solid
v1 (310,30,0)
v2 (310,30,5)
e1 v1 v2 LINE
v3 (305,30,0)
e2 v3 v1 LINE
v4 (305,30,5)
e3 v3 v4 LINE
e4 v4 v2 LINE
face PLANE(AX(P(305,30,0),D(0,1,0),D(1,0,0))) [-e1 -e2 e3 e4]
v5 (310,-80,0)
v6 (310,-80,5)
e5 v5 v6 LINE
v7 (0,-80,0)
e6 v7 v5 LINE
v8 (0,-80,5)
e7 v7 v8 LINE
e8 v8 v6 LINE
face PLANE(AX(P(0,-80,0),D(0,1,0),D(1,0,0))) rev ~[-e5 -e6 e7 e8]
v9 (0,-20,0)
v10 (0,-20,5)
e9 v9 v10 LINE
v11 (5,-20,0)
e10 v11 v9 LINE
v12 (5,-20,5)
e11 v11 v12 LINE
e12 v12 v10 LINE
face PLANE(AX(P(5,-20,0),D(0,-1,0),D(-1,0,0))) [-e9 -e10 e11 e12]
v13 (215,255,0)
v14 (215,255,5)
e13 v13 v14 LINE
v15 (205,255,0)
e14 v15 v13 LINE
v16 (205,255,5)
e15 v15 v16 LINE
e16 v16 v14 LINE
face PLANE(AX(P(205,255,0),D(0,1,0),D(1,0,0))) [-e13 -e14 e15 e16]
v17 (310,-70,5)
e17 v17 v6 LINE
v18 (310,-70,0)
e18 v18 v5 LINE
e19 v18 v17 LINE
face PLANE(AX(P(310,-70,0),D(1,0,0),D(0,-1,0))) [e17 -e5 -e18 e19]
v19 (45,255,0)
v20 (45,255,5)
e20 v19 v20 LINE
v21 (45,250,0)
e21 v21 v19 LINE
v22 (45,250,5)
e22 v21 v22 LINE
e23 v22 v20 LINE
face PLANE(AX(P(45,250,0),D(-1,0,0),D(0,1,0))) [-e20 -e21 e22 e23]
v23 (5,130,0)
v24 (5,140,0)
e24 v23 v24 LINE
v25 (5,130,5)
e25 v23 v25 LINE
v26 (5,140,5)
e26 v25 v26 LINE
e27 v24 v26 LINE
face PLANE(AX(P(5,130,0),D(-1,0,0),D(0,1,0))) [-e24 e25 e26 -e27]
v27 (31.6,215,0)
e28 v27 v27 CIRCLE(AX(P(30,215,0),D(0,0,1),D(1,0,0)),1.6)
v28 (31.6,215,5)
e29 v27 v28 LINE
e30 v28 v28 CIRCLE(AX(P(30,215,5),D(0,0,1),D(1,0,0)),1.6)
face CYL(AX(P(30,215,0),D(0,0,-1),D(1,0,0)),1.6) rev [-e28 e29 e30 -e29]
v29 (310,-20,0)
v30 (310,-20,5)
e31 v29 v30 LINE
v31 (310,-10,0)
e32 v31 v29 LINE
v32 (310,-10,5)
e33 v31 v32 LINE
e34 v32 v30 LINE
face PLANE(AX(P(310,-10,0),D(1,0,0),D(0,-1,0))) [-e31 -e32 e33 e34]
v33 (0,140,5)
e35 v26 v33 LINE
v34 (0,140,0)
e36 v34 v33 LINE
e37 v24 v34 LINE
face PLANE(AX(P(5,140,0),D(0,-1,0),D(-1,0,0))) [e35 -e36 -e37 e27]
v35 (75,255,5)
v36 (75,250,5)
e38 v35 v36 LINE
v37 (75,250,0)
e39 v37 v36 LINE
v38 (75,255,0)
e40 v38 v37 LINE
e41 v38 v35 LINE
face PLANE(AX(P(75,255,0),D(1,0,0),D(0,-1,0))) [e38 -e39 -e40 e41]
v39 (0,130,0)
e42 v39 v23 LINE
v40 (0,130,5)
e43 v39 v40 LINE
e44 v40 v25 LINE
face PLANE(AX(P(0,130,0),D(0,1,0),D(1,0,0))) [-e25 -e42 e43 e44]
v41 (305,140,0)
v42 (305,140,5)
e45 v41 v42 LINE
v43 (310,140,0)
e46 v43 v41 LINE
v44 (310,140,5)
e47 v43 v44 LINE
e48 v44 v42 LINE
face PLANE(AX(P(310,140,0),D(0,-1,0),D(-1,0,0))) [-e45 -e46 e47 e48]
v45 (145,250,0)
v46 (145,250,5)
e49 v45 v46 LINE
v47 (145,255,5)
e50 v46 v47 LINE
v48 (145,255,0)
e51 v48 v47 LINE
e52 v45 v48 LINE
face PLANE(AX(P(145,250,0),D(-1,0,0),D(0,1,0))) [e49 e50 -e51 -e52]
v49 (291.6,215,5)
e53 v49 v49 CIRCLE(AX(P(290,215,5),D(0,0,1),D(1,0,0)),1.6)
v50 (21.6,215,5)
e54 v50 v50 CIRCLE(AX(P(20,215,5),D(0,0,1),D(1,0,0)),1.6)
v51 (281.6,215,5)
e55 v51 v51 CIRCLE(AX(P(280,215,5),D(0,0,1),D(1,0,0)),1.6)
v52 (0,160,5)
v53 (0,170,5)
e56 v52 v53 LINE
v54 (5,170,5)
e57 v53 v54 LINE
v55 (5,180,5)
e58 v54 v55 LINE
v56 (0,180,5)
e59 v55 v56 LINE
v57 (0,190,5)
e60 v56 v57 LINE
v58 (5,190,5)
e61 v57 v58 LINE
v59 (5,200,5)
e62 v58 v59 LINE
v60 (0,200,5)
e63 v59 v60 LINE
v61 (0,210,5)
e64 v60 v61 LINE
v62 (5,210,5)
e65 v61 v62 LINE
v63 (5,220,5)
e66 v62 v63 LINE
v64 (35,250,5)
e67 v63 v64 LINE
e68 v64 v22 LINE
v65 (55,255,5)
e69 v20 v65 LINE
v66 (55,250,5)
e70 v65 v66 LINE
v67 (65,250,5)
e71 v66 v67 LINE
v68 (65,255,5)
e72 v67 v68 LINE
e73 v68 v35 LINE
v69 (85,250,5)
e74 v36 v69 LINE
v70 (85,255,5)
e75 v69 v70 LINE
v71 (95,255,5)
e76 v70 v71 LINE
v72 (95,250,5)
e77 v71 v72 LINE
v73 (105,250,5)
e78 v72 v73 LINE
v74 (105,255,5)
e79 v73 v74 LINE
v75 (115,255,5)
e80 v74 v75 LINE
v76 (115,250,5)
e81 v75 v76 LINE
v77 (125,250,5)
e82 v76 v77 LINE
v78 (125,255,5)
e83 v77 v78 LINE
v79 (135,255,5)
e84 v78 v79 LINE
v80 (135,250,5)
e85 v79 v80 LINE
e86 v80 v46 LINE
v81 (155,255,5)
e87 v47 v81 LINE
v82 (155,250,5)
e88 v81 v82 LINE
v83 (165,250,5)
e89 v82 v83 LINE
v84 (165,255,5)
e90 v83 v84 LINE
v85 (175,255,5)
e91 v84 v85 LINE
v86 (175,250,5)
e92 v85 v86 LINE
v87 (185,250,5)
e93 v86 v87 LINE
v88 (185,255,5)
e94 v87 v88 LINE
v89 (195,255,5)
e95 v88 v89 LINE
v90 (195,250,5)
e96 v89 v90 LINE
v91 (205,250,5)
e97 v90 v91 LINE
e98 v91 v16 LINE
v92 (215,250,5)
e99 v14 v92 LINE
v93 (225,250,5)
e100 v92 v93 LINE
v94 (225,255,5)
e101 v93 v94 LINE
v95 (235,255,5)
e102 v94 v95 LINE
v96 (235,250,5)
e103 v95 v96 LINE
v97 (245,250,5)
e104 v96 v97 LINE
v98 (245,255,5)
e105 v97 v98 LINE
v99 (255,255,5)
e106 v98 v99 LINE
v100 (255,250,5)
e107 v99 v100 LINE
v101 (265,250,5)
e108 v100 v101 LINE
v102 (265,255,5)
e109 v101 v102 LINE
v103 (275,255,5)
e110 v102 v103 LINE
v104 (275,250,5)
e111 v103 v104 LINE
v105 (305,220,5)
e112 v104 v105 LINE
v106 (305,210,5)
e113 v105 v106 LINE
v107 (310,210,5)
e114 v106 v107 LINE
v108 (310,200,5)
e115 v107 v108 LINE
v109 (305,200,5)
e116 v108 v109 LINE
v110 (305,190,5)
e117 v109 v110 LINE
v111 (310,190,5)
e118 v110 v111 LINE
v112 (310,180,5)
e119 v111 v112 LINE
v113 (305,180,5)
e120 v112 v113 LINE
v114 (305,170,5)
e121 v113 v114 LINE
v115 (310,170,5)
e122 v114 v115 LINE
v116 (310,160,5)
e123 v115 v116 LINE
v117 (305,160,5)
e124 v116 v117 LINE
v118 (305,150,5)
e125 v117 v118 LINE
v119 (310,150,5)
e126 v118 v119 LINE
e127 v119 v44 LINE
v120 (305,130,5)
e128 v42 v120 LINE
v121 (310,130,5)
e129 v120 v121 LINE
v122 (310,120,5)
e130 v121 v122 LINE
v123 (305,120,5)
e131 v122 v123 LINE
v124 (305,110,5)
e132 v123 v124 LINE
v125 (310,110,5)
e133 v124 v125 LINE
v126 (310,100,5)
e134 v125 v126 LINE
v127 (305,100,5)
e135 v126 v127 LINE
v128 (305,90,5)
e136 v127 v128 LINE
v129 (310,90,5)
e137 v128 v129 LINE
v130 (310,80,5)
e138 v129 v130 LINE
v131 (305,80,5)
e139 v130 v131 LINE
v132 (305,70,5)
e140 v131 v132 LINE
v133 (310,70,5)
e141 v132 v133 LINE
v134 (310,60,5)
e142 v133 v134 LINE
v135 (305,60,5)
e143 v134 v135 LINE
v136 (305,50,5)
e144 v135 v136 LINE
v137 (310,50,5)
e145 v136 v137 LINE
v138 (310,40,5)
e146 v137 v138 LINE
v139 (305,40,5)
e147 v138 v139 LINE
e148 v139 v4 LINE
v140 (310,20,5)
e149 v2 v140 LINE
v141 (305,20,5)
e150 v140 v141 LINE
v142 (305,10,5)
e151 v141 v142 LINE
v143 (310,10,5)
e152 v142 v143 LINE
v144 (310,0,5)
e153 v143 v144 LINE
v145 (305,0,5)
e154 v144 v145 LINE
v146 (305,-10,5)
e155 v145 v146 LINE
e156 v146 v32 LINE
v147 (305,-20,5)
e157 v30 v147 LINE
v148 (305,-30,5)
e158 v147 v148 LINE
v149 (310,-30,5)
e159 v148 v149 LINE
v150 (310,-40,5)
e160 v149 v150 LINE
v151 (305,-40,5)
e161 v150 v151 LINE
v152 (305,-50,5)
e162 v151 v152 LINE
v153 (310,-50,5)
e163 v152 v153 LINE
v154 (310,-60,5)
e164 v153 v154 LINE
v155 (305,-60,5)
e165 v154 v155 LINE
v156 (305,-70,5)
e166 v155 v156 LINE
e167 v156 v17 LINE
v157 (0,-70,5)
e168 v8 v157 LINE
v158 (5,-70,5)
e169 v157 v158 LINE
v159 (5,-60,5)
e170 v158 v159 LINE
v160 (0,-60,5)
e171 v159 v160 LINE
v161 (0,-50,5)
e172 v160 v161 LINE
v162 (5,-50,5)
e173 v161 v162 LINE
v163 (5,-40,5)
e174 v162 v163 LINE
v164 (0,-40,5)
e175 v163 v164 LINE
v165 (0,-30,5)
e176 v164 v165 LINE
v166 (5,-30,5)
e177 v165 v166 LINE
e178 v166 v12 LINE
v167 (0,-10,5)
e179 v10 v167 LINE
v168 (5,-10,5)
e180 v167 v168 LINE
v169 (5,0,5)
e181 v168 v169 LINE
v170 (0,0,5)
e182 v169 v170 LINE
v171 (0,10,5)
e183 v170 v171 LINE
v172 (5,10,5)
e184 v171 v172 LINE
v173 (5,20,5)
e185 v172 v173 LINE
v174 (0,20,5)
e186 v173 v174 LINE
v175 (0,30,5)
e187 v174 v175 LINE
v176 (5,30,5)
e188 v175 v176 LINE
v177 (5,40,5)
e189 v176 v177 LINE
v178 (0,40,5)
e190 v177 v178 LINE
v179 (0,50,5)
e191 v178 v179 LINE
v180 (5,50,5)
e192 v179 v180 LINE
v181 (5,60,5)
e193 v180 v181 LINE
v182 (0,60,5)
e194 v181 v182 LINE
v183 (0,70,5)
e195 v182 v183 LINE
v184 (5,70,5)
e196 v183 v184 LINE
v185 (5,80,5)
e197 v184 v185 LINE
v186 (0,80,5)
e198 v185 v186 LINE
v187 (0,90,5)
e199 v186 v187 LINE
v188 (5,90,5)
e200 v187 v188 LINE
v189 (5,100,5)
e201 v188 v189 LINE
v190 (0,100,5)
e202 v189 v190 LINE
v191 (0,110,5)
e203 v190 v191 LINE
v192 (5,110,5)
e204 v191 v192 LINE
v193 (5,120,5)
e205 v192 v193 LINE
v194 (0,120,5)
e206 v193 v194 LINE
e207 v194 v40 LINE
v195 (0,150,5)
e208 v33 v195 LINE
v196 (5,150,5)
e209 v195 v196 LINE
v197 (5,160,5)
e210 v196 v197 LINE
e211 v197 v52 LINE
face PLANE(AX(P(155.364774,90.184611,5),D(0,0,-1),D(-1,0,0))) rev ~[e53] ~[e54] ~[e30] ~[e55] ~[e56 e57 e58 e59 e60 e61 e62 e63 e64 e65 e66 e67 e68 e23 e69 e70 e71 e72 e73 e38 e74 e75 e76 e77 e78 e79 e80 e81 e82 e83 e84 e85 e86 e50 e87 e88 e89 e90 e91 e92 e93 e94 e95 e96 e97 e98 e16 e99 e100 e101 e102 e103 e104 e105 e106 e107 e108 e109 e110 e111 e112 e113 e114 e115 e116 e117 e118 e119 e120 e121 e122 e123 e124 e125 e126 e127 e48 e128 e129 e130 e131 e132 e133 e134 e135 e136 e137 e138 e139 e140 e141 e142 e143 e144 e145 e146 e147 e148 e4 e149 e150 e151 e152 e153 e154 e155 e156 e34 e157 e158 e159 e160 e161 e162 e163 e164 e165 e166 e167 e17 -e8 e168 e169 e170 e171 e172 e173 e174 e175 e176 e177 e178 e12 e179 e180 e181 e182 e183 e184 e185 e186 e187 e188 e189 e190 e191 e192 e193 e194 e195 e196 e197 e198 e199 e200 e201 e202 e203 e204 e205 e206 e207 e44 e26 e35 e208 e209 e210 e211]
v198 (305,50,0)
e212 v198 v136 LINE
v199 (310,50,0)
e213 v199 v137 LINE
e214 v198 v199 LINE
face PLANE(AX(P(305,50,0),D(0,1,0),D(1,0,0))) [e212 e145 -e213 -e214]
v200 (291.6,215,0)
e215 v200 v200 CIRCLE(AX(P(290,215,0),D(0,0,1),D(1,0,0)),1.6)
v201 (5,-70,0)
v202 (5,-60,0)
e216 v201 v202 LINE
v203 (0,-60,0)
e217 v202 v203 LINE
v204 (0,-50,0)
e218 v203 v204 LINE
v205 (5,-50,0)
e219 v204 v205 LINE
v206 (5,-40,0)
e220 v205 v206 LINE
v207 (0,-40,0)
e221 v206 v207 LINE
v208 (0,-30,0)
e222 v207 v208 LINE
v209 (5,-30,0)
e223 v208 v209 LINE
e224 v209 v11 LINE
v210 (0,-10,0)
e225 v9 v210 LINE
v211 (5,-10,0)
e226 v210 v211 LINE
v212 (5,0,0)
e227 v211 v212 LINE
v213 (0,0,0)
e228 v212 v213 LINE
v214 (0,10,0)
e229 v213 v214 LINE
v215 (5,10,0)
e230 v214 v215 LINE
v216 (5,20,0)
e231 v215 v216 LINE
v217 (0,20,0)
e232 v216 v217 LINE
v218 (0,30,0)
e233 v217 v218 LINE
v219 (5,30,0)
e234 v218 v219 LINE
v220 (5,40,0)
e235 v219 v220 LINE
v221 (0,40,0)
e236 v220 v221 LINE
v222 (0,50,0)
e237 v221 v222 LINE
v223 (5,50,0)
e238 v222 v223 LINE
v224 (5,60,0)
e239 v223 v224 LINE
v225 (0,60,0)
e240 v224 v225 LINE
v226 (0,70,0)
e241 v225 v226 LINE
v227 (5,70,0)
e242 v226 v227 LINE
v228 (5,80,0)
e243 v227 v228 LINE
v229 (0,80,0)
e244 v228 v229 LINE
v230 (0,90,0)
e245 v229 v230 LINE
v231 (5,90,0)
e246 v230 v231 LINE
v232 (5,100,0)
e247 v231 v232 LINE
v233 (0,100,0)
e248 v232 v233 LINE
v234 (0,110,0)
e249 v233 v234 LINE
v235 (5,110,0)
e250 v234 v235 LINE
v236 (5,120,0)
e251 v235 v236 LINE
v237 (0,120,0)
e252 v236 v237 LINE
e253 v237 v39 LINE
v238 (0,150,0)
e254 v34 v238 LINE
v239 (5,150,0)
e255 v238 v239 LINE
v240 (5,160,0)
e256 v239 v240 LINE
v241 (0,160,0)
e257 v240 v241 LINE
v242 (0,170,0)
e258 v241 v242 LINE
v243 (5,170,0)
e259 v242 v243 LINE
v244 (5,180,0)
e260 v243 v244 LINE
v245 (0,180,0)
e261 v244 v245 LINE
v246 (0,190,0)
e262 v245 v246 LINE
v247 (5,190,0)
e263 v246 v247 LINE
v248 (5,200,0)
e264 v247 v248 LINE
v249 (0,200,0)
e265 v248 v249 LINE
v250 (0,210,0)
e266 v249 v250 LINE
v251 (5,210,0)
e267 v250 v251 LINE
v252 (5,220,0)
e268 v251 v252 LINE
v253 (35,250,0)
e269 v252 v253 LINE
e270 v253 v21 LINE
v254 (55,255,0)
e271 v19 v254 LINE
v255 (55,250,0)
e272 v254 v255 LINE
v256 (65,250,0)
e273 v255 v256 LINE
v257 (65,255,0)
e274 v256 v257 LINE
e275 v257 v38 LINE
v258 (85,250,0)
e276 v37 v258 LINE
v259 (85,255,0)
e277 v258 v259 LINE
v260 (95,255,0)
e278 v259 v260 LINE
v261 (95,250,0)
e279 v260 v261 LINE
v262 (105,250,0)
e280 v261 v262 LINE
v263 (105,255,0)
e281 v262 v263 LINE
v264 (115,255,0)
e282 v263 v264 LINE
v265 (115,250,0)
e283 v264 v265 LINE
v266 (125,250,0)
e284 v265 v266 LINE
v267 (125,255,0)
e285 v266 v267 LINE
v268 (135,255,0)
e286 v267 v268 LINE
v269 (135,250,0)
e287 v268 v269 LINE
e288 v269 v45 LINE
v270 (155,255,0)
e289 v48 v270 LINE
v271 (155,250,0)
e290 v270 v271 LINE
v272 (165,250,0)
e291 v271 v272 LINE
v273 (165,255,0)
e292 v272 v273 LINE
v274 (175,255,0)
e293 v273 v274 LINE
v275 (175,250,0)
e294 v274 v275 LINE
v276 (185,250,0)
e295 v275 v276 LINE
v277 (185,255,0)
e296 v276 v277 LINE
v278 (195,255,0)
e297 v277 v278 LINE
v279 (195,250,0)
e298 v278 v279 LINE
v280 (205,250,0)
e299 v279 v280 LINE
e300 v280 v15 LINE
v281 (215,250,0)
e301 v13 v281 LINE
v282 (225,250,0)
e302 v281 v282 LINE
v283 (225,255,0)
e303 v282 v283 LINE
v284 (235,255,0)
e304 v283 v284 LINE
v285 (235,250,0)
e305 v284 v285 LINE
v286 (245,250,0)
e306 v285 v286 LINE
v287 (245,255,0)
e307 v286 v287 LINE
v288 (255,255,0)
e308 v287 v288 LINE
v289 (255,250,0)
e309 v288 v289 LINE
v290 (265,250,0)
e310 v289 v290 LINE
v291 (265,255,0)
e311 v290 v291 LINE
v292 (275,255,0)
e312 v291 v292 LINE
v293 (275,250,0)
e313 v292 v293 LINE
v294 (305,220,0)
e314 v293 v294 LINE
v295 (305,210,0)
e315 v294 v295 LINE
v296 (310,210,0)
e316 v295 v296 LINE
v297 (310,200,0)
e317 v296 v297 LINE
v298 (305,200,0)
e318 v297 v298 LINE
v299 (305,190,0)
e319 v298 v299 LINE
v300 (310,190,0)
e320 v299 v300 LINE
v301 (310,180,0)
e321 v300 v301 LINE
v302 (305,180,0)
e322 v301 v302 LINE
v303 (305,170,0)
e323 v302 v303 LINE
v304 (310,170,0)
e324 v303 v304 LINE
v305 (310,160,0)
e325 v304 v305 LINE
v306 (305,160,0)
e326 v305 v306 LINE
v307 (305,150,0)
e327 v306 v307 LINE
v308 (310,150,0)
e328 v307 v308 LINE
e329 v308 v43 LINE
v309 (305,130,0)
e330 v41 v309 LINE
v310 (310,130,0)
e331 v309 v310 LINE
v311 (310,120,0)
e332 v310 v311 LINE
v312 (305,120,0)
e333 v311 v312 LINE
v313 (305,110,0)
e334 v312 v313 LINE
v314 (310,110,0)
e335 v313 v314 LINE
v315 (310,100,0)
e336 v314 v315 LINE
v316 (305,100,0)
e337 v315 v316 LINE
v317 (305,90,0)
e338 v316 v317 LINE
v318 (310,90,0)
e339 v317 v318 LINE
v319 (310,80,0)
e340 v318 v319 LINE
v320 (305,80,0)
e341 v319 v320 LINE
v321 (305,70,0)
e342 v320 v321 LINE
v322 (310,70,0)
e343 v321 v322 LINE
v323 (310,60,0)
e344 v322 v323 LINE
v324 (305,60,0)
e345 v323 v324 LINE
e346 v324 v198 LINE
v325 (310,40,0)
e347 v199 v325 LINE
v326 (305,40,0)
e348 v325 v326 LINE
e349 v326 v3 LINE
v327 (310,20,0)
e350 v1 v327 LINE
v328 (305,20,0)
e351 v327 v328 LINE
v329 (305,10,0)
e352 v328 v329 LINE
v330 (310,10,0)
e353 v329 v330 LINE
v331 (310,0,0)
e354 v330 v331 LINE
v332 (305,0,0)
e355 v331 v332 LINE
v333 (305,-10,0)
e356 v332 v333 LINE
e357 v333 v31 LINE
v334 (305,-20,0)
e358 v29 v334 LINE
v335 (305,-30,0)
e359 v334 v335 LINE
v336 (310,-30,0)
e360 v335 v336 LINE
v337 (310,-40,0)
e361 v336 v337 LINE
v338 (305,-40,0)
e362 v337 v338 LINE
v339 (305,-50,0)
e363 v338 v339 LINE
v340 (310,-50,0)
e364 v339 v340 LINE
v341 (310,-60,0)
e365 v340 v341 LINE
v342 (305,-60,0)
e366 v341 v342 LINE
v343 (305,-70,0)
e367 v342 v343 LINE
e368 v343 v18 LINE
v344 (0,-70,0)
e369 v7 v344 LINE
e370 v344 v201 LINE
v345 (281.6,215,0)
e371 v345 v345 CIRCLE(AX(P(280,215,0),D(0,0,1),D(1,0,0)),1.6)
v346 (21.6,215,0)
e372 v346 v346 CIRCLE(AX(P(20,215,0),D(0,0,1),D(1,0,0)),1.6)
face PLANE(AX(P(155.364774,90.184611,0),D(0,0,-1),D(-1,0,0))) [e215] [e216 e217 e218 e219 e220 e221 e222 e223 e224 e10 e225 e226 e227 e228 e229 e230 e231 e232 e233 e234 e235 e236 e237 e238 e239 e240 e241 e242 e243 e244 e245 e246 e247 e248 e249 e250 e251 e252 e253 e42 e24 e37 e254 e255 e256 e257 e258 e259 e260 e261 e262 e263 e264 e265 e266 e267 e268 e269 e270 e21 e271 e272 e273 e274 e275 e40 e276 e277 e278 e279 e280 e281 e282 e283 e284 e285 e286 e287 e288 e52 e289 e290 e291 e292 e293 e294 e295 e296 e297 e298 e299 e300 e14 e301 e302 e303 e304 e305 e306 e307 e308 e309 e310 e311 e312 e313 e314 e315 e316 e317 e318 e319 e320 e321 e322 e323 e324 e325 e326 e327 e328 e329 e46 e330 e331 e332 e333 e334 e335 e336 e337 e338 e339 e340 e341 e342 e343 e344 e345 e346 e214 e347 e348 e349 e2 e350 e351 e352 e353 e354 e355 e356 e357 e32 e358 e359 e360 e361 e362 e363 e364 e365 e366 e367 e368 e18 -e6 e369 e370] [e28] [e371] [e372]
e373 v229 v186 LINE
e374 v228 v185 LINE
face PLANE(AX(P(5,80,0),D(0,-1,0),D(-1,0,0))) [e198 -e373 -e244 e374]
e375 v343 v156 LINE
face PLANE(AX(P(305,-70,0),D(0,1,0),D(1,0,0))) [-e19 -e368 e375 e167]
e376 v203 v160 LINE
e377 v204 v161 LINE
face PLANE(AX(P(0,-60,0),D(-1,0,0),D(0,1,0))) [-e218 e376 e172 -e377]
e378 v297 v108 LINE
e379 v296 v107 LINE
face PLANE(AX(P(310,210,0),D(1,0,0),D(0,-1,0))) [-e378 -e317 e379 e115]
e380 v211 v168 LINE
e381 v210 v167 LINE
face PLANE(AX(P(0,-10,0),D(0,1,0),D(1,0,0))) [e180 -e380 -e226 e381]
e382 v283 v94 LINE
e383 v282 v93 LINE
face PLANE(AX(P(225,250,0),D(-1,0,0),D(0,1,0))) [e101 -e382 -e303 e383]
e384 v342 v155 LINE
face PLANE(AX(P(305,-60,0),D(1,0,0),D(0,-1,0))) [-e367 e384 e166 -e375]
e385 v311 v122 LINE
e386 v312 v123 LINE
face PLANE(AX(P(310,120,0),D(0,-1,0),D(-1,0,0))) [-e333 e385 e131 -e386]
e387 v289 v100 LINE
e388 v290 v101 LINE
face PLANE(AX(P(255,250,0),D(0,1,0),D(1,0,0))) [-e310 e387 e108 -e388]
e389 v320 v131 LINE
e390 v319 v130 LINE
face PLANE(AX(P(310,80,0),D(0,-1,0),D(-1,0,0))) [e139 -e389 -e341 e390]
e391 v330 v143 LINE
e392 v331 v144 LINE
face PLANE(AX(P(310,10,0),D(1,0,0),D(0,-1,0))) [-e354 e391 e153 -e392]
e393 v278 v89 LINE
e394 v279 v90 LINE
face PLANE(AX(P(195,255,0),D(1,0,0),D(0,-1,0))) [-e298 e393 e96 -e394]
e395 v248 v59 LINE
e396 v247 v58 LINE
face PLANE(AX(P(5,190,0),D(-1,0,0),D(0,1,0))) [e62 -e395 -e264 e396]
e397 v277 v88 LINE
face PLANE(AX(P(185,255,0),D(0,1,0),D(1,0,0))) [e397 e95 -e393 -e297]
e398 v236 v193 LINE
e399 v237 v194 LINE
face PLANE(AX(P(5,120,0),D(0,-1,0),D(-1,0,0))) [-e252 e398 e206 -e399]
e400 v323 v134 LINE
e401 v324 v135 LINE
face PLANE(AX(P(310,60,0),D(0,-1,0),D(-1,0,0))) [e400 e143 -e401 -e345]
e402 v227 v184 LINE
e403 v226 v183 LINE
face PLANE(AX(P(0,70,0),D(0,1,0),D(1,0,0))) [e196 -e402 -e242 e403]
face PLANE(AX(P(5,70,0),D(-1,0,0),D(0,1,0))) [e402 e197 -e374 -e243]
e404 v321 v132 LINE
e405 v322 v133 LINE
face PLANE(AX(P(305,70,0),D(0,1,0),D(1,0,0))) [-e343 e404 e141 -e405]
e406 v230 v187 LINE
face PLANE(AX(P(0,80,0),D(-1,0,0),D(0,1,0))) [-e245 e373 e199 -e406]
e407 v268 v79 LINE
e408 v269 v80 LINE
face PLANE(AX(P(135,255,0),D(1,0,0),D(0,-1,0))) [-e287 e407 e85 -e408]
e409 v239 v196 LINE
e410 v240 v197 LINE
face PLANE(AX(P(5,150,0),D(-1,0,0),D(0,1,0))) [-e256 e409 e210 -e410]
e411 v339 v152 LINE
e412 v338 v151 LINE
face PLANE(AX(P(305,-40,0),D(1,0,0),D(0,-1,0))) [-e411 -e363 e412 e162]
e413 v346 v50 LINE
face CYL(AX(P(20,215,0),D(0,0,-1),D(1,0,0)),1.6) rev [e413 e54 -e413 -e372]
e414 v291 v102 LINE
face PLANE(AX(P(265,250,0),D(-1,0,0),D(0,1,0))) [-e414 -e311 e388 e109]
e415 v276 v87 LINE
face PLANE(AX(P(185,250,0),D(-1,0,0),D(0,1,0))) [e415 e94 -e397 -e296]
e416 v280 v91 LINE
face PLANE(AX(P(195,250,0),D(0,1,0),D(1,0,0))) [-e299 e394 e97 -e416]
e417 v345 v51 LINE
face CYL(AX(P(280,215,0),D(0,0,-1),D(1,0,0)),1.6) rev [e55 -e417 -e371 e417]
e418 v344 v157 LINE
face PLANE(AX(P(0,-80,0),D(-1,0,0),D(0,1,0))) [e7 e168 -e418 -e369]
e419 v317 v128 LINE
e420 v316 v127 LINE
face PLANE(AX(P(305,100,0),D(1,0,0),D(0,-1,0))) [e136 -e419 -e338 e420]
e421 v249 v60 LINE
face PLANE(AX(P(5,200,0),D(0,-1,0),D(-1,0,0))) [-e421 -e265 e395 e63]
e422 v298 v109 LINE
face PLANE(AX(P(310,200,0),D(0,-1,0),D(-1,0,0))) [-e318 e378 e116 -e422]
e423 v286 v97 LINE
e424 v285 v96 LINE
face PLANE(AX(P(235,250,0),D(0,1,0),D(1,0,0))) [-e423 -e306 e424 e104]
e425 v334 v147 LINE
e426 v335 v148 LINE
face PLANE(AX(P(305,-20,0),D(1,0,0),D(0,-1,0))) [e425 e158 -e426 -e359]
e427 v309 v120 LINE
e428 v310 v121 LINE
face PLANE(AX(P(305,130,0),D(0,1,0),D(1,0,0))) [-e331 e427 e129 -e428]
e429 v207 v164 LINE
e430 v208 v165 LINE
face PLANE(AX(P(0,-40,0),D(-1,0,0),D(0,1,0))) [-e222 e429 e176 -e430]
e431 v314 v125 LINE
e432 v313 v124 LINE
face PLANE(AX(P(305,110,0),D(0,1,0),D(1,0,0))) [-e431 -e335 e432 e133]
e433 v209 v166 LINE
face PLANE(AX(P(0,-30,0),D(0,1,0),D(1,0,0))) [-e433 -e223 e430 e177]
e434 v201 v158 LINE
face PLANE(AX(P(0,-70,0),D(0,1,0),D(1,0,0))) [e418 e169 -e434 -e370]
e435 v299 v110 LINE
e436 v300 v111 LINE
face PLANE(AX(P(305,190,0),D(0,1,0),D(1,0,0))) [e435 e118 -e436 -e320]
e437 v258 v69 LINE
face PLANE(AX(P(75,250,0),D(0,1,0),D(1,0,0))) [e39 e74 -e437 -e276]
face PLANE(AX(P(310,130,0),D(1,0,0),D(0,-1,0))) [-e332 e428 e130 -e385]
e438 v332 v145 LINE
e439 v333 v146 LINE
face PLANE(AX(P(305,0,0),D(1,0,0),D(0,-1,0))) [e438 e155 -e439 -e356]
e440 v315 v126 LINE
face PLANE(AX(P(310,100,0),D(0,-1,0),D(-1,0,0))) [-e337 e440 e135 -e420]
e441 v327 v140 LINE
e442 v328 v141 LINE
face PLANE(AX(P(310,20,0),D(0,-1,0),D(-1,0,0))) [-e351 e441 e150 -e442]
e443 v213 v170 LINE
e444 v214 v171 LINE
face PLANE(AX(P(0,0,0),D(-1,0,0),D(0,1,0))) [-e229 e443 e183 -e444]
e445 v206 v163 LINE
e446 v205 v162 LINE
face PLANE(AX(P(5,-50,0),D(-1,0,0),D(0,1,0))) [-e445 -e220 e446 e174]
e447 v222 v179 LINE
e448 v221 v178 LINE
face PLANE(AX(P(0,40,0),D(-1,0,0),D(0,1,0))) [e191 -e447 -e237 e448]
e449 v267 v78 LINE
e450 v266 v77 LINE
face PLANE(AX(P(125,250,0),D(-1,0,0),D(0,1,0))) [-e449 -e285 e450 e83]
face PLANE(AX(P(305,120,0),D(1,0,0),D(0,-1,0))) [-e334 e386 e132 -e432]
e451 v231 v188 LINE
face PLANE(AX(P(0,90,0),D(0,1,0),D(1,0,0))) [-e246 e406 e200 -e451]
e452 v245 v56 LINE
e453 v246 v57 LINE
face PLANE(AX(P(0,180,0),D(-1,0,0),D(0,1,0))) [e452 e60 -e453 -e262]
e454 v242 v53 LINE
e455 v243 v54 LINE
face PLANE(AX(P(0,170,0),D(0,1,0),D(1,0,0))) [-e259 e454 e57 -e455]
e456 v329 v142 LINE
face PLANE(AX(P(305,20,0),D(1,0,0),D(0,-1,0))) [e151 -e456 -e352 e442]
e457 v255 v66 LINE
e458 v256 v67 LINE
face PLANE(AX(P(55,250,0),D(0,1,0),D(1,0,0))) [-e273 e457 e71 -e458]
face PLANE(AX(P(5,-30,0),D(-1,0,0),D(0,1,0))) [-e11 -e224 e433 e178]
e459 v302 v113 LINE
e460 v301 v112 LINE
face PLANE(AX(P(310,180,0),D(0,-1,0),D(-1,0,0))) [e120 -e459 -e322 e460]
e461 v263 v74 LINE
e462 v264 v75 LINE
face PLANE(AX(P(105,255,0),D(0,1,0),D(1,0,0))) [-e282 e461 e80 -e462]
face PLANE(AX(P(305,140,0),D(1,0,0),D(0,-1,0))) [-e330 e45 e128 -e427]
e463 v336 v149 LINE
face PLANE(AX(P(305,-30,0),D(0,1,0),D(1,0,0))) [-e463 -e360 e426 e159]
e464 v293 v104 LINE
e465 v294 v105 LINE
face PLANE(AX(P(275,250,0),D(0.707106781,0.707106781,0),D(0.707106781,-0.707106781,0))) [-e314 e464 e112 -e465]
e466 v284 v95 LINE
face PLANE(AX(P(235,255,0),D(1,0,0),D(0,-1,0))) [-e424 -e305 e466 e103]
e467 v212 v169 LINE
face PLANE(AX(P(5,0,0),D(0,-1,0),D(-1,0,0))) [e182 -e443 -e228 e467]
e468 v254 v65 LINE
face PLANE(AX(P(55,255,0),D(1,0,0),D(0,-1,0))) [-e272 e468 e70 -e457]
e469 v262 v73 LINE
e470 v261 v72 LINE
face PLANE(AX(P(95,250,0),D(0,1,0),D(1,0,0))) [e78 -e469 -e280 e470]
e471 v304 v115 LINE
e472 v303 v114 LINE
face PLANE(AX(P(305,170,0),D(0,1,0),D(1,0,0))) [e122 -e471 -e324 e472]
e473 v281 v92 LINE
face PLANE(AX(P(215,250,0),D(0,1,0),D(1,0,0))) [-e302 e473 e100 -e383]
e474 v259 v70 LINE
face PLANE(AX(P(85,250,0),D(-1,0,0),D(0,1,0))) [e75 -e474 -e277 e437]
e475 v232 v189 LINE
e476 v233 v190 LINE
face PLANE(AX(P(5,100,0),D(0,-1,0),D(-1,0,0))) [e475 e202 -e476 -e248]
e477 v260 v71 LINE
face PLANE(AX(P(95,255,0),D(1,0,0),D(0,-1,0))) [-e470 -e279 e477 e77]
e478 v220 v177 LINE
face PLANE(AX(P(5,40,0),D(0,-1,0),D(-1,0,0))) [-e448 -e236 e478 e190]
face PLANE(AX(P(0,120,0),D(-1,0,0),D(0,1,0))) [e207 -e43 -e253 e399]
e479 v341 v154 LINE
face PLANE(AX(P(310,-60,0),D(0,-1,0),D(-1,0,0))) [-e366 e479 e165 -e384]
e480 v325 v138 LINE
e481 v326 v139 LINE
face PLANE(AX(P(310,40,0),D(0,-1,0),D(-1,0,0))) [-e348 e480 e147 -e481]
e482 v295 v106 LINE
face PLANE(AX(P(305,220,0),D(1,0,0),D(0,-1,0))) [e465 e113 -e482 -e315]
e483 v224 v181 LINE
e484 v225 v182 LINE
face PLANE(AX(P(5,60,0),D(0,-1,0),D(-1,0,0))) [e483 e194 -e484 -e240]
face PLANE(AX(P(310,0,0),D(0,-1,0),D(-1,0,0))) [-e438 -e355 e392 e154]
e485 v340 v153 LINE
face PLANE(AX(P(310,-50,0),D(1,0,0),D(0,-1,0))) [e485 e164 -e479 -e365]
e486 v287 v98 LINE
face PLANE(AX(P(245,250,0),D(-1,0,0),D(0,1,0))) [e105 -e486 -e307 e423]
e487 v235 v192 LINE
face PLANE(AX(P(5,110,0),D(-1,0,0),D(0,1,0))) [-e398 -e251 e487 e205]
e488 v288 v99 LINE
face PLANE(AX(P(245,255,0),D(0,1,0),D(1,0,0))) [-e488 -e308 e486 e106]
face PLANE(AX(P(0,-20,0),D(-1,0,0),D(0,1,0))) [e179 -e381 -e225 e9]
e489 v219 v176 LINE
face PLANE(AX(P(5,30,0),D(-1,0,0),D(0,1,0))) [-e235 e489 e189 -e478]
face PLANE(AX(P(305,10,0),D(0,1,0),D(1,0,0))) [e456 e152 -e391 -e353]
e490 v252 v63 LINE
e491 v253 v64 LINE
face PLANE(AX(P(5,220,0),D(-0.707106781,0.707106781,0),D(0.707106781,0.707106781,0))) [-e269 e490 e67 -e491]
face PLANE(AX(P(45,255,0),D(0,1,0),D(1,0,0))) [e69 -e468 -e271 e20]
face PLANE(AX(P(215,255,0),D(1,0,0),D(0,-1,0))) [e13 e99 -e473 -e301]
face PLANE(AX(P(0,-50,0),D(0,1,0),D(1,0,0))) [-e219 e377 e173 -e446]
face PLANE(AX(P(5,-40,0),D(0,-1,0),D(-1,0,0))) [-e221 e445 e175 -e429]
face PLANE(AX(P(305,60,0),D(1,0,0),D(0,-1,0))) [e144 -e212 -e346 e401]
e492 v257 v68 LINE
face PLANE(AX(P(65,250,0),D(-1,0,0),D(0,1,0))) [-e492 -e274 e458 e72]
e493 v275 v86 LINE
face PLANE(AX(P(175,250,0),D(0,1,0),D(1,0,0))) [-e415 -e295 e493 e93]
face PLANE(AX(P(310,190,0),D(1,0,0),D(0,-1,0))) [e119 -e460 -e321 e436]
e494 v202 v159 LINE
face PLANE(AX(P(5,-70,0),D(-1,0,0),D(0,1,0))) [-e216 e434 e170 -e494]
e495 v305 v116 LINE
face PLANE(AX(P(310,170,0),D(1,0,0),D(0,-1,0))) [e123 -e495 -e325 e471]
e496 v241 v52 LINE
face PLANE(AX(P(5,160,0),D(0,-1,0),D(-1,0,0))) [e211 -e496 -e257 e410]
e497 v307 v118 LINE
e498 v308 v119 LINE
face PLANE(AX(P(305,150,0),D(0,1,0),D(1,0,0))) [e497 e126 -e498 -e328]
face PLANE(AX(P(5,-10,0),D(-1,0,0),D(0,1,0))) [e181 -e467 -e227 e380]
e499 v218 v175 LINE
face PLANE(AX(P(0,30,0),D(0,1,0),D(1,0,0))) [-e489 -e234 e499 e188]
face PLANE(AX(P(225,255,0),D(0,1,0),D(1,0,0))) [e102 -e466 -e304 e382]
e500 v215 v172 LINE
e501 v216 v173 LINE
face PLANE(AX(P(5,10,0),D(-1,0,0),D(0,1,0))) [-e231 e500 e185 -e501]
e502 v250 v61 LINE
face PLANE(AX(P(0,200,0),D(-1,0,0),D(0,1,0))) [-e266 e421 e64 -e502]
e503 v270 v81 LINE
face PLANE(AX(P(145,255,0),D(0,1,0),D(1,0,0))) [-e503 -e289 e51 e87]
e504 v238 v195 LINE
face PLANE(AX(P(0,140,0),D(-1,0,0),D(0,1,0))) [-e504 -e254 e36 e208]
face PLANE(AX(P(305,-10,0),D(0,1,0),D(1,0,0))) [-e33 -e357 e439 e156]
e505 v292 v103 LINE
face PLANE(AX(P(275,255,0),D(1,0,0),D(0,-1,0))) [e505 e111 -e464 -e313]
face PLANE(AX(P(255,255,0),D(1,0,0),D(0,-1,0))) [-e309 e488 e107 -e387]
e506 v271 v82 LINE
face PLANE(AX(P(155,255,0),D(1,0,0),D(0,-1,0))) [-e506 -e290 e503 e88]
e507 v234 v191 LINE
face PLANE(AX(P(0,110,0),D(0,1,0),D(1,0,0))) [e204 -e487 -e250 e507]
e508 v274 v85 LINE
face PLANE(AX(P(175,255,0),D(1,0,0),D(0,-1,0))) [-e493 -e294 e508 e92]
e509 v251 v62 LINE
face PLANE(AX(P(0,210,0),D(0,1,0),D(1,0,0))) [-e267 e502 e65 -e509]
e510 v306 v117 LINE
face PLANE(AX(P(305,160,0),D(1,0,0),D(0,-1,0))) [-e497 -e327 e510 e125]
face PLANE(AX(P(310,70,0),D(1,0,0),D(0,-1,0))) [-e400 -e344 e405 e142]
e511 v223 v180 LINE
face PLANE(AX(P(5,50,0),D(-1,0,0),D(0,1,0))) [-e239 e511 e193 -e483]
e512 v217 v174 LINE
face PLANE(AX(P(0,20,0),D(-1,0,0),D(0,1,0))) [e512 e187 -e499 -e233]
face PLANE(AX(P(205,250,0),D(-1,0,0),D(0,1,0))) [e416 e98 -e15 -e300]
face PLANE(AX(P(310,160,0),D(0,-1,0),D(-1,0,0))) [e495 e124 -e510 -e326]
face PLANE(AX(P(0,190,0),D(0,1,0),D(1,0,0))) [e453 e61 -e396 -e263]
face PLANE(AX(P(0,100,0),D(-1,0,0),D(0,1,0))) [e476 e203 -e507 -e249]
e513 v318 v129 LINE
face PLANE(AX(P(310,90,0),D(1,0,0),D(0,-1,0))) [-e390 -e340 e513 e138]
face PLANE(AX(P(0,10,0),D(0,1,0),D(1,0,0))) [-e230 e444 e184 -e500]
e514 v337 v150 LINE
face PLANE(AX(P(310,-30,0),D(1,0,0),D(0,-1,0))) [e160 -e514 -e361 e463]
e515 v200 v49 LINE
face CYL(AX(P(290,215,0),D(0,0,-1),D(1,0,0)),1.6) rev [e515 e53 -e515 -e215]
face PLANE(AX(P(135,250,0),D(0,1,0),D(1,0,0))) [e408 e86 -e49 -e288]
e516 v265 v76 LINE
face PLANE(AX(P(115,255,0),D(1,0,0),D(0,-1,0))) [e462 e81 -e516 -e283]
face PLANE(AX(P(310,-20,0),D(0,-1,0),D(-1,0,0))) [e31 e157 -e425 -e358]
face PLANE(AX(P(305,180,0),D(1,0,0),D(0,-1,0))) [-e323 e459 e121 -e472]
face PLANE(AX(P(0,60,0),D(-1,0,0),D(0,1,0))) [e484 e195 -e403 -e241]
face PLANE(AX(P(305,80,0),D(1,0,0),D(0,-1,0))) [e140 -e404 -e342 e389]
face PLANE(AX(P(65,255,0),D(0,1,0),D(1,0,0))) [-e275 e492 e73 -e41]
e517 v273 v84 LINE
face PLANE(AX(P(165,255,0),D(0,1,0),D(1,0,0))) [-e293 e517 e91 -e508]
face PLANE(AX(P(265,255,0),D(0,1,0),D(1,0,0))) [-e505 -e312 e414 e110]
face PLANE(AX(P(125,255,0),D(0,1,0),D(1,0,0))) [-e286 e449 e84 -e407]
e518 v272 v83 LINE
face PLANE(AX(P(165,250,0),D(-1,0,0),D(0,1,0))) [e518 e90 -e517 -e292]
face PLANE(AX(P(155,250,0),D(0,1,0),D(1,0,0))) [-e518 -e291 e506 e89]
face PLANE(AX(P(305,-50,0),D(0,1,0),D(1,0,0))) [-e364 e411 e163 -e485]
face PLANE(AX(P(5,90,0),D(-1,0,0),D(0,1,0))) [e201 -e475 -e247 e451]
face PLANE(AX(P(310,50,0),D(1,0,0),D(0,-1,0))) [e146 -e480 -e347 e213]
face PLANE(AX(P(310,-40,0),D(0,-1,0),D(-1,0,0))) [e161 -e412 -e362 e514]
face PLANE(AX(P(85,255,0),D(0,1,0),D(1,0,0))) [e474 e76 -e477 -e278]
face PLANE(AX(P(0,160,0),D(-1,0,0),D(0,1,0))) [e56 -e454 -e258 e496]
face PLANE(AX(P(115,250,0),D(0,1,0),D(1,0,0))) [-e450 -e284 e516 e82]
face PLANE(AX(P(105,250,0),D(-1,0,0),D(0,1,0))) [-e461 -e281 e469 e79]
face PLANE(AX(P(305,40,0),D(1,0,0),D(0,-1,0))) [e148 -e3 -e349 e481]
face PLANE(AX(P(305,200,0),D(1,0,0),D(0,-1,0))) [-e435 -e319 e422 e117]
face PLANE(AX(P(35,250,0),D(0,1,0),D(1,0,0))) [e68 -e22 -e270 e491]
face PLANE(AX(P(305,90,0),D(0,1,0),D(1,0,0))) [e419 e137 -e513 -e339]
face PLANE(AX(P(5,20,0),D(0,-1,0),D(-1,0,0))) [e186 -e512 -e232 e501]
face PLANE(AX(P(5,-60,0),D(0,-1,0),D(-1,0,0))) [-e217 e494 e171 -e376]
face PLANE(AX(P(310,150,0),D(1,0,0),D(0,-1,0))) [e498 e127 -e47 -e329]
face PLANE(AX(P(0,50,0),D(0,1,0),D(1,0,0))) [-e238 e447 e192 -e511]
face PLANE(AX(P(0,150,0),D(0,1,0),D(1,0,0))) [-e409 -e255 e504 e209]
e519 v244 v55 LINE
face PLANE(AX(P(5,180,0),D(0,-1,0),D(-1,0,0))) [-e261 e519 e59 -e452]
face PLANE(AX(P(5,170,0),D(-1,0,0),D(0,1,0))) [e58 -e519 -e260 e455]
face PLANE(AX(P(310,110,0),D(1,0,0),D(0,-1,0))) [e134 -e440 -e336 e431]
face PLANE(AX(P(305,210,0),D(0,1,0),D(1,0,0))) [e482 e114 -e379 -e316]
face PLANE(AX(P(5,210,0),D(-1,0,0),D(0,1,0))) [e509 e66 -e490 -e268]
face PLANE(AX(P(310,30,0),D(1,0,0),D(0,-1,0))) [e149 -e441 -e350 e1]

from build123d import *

# Parameters (mm, degrees)
SKIZZE1_R                       = 1.6
AUFSATZ_LINEAR_AUSTRAGEN1_DEPTH = 5


with BuildPart() as part:
    # Skizze1 → Aufsatz-Linear austragen1 (new body)
    with BuildSketch(Plane.XY):
        Polygon((5, 10), (5, 20), (0, 20), (0, 30), (5, 30), (5, 40), (0, 40), (0, 50), (5, 50), (5, 60), (0, 60), (0, 70), (5, 70), (5, 80), (0, 80), (0, 90), (5, 90), (5, 100), (0, 100), (0, 110), (5, 110), (5, 120), (0, 120), (0, 130), (5, 130), (5, 140), (0, 140), (0, 150), (5, 150), (5, 160), (0, 160), (0, 170), (5, 170), (5, 180), (0, 180), (0, 190), (5, 190), (5, 200), (0, 200), (0, 210), (5, 210), (5, 220), (35, 250), (45, 250), (45, 255), (55, 255), (55, 250), (65, 250), (65, 255), (75, 255), (75, 250), (85, 250), (85, 255), (95, 255), (95, 250), (105, 250), (105, 255), (115, 255), (115, 250), (125, 250), (125, 255), (135, 255), (135, 250), (145, 250), (145, 255), (155, 255), (155, 250), (165, 250), (165, 255), (175, 255), (175, 250), (185, 250), (185, 255), (195, 255), (195, 250), (205, 250), (205, 255), (215, 255), (215, 250), (225, 250), (225, 255), (235, 255), (235, 250), (245, 250), (245, 255), (255, 255), (255, 250), (265, 250), (265, 255), (275, 255), (275, 250), (305, 220), (305, 210), (310, 210), (310, 200), (305, 200), (305, 190), (310, 190), (310, 180), (305, 180), (305, 170), (310, 170), (310, 160), (305, 160), (305, 150), (310, 150), (310, 140), (305, 140), (305, 130), (310, 130), (310, 120), (305, 120), (305, 110), (310, 110), (310, 100), (305, 100), (305, 90), (310, 90), (310, 80), (305, 80), (305, 70), (310, 70), (310, 60), (305, 60), (305, 50), (310, 50), (310, 40), (305, 40), (305, 30), (310, 30), (310, 20), (305, 20), (305, 10), (310, 10), (310, 0), (305, 0), (305, -10), (310, -10), (310, -20), (305, -20), (305, -30), (310, -30), (310, -40), (305, -40), (305, -50), (310, -50), (310, -60), (305, -60), (305, -70), (310, -70), (310, -80), (305, -80), (5, -80), (0, -80), (0, -70), (5, -70), (5, -60), (0, -60), (0, -50), (5, -50), (5, -40), (0, -40), (0, -30), (5, -30), (5, -20), (0, -20), (0, -10), (5, -10), (5, 0), (0, 0), (0, 10), align=None)
        with Locations((20, 215)):
            Circle(SKIZZE1_R, mode=Mode.SUBTRACT)
        with Locations((30, 215)):
            Circle(SKIZZE1_R, mode=Mode.SUBTRACT)
        with Locations((290, 215)):
            Circle(SKIZZE1_R, mode=Mode.SUBTRACT)
        with Locations((280, 215)):
            Circle(SKIZZE1_R, mode=Mode.SUBTRACT)
    extrude(amount=AUFSATZ_LINEAR_AUSTRAGEN1_DEPTH)


solid = part.part
